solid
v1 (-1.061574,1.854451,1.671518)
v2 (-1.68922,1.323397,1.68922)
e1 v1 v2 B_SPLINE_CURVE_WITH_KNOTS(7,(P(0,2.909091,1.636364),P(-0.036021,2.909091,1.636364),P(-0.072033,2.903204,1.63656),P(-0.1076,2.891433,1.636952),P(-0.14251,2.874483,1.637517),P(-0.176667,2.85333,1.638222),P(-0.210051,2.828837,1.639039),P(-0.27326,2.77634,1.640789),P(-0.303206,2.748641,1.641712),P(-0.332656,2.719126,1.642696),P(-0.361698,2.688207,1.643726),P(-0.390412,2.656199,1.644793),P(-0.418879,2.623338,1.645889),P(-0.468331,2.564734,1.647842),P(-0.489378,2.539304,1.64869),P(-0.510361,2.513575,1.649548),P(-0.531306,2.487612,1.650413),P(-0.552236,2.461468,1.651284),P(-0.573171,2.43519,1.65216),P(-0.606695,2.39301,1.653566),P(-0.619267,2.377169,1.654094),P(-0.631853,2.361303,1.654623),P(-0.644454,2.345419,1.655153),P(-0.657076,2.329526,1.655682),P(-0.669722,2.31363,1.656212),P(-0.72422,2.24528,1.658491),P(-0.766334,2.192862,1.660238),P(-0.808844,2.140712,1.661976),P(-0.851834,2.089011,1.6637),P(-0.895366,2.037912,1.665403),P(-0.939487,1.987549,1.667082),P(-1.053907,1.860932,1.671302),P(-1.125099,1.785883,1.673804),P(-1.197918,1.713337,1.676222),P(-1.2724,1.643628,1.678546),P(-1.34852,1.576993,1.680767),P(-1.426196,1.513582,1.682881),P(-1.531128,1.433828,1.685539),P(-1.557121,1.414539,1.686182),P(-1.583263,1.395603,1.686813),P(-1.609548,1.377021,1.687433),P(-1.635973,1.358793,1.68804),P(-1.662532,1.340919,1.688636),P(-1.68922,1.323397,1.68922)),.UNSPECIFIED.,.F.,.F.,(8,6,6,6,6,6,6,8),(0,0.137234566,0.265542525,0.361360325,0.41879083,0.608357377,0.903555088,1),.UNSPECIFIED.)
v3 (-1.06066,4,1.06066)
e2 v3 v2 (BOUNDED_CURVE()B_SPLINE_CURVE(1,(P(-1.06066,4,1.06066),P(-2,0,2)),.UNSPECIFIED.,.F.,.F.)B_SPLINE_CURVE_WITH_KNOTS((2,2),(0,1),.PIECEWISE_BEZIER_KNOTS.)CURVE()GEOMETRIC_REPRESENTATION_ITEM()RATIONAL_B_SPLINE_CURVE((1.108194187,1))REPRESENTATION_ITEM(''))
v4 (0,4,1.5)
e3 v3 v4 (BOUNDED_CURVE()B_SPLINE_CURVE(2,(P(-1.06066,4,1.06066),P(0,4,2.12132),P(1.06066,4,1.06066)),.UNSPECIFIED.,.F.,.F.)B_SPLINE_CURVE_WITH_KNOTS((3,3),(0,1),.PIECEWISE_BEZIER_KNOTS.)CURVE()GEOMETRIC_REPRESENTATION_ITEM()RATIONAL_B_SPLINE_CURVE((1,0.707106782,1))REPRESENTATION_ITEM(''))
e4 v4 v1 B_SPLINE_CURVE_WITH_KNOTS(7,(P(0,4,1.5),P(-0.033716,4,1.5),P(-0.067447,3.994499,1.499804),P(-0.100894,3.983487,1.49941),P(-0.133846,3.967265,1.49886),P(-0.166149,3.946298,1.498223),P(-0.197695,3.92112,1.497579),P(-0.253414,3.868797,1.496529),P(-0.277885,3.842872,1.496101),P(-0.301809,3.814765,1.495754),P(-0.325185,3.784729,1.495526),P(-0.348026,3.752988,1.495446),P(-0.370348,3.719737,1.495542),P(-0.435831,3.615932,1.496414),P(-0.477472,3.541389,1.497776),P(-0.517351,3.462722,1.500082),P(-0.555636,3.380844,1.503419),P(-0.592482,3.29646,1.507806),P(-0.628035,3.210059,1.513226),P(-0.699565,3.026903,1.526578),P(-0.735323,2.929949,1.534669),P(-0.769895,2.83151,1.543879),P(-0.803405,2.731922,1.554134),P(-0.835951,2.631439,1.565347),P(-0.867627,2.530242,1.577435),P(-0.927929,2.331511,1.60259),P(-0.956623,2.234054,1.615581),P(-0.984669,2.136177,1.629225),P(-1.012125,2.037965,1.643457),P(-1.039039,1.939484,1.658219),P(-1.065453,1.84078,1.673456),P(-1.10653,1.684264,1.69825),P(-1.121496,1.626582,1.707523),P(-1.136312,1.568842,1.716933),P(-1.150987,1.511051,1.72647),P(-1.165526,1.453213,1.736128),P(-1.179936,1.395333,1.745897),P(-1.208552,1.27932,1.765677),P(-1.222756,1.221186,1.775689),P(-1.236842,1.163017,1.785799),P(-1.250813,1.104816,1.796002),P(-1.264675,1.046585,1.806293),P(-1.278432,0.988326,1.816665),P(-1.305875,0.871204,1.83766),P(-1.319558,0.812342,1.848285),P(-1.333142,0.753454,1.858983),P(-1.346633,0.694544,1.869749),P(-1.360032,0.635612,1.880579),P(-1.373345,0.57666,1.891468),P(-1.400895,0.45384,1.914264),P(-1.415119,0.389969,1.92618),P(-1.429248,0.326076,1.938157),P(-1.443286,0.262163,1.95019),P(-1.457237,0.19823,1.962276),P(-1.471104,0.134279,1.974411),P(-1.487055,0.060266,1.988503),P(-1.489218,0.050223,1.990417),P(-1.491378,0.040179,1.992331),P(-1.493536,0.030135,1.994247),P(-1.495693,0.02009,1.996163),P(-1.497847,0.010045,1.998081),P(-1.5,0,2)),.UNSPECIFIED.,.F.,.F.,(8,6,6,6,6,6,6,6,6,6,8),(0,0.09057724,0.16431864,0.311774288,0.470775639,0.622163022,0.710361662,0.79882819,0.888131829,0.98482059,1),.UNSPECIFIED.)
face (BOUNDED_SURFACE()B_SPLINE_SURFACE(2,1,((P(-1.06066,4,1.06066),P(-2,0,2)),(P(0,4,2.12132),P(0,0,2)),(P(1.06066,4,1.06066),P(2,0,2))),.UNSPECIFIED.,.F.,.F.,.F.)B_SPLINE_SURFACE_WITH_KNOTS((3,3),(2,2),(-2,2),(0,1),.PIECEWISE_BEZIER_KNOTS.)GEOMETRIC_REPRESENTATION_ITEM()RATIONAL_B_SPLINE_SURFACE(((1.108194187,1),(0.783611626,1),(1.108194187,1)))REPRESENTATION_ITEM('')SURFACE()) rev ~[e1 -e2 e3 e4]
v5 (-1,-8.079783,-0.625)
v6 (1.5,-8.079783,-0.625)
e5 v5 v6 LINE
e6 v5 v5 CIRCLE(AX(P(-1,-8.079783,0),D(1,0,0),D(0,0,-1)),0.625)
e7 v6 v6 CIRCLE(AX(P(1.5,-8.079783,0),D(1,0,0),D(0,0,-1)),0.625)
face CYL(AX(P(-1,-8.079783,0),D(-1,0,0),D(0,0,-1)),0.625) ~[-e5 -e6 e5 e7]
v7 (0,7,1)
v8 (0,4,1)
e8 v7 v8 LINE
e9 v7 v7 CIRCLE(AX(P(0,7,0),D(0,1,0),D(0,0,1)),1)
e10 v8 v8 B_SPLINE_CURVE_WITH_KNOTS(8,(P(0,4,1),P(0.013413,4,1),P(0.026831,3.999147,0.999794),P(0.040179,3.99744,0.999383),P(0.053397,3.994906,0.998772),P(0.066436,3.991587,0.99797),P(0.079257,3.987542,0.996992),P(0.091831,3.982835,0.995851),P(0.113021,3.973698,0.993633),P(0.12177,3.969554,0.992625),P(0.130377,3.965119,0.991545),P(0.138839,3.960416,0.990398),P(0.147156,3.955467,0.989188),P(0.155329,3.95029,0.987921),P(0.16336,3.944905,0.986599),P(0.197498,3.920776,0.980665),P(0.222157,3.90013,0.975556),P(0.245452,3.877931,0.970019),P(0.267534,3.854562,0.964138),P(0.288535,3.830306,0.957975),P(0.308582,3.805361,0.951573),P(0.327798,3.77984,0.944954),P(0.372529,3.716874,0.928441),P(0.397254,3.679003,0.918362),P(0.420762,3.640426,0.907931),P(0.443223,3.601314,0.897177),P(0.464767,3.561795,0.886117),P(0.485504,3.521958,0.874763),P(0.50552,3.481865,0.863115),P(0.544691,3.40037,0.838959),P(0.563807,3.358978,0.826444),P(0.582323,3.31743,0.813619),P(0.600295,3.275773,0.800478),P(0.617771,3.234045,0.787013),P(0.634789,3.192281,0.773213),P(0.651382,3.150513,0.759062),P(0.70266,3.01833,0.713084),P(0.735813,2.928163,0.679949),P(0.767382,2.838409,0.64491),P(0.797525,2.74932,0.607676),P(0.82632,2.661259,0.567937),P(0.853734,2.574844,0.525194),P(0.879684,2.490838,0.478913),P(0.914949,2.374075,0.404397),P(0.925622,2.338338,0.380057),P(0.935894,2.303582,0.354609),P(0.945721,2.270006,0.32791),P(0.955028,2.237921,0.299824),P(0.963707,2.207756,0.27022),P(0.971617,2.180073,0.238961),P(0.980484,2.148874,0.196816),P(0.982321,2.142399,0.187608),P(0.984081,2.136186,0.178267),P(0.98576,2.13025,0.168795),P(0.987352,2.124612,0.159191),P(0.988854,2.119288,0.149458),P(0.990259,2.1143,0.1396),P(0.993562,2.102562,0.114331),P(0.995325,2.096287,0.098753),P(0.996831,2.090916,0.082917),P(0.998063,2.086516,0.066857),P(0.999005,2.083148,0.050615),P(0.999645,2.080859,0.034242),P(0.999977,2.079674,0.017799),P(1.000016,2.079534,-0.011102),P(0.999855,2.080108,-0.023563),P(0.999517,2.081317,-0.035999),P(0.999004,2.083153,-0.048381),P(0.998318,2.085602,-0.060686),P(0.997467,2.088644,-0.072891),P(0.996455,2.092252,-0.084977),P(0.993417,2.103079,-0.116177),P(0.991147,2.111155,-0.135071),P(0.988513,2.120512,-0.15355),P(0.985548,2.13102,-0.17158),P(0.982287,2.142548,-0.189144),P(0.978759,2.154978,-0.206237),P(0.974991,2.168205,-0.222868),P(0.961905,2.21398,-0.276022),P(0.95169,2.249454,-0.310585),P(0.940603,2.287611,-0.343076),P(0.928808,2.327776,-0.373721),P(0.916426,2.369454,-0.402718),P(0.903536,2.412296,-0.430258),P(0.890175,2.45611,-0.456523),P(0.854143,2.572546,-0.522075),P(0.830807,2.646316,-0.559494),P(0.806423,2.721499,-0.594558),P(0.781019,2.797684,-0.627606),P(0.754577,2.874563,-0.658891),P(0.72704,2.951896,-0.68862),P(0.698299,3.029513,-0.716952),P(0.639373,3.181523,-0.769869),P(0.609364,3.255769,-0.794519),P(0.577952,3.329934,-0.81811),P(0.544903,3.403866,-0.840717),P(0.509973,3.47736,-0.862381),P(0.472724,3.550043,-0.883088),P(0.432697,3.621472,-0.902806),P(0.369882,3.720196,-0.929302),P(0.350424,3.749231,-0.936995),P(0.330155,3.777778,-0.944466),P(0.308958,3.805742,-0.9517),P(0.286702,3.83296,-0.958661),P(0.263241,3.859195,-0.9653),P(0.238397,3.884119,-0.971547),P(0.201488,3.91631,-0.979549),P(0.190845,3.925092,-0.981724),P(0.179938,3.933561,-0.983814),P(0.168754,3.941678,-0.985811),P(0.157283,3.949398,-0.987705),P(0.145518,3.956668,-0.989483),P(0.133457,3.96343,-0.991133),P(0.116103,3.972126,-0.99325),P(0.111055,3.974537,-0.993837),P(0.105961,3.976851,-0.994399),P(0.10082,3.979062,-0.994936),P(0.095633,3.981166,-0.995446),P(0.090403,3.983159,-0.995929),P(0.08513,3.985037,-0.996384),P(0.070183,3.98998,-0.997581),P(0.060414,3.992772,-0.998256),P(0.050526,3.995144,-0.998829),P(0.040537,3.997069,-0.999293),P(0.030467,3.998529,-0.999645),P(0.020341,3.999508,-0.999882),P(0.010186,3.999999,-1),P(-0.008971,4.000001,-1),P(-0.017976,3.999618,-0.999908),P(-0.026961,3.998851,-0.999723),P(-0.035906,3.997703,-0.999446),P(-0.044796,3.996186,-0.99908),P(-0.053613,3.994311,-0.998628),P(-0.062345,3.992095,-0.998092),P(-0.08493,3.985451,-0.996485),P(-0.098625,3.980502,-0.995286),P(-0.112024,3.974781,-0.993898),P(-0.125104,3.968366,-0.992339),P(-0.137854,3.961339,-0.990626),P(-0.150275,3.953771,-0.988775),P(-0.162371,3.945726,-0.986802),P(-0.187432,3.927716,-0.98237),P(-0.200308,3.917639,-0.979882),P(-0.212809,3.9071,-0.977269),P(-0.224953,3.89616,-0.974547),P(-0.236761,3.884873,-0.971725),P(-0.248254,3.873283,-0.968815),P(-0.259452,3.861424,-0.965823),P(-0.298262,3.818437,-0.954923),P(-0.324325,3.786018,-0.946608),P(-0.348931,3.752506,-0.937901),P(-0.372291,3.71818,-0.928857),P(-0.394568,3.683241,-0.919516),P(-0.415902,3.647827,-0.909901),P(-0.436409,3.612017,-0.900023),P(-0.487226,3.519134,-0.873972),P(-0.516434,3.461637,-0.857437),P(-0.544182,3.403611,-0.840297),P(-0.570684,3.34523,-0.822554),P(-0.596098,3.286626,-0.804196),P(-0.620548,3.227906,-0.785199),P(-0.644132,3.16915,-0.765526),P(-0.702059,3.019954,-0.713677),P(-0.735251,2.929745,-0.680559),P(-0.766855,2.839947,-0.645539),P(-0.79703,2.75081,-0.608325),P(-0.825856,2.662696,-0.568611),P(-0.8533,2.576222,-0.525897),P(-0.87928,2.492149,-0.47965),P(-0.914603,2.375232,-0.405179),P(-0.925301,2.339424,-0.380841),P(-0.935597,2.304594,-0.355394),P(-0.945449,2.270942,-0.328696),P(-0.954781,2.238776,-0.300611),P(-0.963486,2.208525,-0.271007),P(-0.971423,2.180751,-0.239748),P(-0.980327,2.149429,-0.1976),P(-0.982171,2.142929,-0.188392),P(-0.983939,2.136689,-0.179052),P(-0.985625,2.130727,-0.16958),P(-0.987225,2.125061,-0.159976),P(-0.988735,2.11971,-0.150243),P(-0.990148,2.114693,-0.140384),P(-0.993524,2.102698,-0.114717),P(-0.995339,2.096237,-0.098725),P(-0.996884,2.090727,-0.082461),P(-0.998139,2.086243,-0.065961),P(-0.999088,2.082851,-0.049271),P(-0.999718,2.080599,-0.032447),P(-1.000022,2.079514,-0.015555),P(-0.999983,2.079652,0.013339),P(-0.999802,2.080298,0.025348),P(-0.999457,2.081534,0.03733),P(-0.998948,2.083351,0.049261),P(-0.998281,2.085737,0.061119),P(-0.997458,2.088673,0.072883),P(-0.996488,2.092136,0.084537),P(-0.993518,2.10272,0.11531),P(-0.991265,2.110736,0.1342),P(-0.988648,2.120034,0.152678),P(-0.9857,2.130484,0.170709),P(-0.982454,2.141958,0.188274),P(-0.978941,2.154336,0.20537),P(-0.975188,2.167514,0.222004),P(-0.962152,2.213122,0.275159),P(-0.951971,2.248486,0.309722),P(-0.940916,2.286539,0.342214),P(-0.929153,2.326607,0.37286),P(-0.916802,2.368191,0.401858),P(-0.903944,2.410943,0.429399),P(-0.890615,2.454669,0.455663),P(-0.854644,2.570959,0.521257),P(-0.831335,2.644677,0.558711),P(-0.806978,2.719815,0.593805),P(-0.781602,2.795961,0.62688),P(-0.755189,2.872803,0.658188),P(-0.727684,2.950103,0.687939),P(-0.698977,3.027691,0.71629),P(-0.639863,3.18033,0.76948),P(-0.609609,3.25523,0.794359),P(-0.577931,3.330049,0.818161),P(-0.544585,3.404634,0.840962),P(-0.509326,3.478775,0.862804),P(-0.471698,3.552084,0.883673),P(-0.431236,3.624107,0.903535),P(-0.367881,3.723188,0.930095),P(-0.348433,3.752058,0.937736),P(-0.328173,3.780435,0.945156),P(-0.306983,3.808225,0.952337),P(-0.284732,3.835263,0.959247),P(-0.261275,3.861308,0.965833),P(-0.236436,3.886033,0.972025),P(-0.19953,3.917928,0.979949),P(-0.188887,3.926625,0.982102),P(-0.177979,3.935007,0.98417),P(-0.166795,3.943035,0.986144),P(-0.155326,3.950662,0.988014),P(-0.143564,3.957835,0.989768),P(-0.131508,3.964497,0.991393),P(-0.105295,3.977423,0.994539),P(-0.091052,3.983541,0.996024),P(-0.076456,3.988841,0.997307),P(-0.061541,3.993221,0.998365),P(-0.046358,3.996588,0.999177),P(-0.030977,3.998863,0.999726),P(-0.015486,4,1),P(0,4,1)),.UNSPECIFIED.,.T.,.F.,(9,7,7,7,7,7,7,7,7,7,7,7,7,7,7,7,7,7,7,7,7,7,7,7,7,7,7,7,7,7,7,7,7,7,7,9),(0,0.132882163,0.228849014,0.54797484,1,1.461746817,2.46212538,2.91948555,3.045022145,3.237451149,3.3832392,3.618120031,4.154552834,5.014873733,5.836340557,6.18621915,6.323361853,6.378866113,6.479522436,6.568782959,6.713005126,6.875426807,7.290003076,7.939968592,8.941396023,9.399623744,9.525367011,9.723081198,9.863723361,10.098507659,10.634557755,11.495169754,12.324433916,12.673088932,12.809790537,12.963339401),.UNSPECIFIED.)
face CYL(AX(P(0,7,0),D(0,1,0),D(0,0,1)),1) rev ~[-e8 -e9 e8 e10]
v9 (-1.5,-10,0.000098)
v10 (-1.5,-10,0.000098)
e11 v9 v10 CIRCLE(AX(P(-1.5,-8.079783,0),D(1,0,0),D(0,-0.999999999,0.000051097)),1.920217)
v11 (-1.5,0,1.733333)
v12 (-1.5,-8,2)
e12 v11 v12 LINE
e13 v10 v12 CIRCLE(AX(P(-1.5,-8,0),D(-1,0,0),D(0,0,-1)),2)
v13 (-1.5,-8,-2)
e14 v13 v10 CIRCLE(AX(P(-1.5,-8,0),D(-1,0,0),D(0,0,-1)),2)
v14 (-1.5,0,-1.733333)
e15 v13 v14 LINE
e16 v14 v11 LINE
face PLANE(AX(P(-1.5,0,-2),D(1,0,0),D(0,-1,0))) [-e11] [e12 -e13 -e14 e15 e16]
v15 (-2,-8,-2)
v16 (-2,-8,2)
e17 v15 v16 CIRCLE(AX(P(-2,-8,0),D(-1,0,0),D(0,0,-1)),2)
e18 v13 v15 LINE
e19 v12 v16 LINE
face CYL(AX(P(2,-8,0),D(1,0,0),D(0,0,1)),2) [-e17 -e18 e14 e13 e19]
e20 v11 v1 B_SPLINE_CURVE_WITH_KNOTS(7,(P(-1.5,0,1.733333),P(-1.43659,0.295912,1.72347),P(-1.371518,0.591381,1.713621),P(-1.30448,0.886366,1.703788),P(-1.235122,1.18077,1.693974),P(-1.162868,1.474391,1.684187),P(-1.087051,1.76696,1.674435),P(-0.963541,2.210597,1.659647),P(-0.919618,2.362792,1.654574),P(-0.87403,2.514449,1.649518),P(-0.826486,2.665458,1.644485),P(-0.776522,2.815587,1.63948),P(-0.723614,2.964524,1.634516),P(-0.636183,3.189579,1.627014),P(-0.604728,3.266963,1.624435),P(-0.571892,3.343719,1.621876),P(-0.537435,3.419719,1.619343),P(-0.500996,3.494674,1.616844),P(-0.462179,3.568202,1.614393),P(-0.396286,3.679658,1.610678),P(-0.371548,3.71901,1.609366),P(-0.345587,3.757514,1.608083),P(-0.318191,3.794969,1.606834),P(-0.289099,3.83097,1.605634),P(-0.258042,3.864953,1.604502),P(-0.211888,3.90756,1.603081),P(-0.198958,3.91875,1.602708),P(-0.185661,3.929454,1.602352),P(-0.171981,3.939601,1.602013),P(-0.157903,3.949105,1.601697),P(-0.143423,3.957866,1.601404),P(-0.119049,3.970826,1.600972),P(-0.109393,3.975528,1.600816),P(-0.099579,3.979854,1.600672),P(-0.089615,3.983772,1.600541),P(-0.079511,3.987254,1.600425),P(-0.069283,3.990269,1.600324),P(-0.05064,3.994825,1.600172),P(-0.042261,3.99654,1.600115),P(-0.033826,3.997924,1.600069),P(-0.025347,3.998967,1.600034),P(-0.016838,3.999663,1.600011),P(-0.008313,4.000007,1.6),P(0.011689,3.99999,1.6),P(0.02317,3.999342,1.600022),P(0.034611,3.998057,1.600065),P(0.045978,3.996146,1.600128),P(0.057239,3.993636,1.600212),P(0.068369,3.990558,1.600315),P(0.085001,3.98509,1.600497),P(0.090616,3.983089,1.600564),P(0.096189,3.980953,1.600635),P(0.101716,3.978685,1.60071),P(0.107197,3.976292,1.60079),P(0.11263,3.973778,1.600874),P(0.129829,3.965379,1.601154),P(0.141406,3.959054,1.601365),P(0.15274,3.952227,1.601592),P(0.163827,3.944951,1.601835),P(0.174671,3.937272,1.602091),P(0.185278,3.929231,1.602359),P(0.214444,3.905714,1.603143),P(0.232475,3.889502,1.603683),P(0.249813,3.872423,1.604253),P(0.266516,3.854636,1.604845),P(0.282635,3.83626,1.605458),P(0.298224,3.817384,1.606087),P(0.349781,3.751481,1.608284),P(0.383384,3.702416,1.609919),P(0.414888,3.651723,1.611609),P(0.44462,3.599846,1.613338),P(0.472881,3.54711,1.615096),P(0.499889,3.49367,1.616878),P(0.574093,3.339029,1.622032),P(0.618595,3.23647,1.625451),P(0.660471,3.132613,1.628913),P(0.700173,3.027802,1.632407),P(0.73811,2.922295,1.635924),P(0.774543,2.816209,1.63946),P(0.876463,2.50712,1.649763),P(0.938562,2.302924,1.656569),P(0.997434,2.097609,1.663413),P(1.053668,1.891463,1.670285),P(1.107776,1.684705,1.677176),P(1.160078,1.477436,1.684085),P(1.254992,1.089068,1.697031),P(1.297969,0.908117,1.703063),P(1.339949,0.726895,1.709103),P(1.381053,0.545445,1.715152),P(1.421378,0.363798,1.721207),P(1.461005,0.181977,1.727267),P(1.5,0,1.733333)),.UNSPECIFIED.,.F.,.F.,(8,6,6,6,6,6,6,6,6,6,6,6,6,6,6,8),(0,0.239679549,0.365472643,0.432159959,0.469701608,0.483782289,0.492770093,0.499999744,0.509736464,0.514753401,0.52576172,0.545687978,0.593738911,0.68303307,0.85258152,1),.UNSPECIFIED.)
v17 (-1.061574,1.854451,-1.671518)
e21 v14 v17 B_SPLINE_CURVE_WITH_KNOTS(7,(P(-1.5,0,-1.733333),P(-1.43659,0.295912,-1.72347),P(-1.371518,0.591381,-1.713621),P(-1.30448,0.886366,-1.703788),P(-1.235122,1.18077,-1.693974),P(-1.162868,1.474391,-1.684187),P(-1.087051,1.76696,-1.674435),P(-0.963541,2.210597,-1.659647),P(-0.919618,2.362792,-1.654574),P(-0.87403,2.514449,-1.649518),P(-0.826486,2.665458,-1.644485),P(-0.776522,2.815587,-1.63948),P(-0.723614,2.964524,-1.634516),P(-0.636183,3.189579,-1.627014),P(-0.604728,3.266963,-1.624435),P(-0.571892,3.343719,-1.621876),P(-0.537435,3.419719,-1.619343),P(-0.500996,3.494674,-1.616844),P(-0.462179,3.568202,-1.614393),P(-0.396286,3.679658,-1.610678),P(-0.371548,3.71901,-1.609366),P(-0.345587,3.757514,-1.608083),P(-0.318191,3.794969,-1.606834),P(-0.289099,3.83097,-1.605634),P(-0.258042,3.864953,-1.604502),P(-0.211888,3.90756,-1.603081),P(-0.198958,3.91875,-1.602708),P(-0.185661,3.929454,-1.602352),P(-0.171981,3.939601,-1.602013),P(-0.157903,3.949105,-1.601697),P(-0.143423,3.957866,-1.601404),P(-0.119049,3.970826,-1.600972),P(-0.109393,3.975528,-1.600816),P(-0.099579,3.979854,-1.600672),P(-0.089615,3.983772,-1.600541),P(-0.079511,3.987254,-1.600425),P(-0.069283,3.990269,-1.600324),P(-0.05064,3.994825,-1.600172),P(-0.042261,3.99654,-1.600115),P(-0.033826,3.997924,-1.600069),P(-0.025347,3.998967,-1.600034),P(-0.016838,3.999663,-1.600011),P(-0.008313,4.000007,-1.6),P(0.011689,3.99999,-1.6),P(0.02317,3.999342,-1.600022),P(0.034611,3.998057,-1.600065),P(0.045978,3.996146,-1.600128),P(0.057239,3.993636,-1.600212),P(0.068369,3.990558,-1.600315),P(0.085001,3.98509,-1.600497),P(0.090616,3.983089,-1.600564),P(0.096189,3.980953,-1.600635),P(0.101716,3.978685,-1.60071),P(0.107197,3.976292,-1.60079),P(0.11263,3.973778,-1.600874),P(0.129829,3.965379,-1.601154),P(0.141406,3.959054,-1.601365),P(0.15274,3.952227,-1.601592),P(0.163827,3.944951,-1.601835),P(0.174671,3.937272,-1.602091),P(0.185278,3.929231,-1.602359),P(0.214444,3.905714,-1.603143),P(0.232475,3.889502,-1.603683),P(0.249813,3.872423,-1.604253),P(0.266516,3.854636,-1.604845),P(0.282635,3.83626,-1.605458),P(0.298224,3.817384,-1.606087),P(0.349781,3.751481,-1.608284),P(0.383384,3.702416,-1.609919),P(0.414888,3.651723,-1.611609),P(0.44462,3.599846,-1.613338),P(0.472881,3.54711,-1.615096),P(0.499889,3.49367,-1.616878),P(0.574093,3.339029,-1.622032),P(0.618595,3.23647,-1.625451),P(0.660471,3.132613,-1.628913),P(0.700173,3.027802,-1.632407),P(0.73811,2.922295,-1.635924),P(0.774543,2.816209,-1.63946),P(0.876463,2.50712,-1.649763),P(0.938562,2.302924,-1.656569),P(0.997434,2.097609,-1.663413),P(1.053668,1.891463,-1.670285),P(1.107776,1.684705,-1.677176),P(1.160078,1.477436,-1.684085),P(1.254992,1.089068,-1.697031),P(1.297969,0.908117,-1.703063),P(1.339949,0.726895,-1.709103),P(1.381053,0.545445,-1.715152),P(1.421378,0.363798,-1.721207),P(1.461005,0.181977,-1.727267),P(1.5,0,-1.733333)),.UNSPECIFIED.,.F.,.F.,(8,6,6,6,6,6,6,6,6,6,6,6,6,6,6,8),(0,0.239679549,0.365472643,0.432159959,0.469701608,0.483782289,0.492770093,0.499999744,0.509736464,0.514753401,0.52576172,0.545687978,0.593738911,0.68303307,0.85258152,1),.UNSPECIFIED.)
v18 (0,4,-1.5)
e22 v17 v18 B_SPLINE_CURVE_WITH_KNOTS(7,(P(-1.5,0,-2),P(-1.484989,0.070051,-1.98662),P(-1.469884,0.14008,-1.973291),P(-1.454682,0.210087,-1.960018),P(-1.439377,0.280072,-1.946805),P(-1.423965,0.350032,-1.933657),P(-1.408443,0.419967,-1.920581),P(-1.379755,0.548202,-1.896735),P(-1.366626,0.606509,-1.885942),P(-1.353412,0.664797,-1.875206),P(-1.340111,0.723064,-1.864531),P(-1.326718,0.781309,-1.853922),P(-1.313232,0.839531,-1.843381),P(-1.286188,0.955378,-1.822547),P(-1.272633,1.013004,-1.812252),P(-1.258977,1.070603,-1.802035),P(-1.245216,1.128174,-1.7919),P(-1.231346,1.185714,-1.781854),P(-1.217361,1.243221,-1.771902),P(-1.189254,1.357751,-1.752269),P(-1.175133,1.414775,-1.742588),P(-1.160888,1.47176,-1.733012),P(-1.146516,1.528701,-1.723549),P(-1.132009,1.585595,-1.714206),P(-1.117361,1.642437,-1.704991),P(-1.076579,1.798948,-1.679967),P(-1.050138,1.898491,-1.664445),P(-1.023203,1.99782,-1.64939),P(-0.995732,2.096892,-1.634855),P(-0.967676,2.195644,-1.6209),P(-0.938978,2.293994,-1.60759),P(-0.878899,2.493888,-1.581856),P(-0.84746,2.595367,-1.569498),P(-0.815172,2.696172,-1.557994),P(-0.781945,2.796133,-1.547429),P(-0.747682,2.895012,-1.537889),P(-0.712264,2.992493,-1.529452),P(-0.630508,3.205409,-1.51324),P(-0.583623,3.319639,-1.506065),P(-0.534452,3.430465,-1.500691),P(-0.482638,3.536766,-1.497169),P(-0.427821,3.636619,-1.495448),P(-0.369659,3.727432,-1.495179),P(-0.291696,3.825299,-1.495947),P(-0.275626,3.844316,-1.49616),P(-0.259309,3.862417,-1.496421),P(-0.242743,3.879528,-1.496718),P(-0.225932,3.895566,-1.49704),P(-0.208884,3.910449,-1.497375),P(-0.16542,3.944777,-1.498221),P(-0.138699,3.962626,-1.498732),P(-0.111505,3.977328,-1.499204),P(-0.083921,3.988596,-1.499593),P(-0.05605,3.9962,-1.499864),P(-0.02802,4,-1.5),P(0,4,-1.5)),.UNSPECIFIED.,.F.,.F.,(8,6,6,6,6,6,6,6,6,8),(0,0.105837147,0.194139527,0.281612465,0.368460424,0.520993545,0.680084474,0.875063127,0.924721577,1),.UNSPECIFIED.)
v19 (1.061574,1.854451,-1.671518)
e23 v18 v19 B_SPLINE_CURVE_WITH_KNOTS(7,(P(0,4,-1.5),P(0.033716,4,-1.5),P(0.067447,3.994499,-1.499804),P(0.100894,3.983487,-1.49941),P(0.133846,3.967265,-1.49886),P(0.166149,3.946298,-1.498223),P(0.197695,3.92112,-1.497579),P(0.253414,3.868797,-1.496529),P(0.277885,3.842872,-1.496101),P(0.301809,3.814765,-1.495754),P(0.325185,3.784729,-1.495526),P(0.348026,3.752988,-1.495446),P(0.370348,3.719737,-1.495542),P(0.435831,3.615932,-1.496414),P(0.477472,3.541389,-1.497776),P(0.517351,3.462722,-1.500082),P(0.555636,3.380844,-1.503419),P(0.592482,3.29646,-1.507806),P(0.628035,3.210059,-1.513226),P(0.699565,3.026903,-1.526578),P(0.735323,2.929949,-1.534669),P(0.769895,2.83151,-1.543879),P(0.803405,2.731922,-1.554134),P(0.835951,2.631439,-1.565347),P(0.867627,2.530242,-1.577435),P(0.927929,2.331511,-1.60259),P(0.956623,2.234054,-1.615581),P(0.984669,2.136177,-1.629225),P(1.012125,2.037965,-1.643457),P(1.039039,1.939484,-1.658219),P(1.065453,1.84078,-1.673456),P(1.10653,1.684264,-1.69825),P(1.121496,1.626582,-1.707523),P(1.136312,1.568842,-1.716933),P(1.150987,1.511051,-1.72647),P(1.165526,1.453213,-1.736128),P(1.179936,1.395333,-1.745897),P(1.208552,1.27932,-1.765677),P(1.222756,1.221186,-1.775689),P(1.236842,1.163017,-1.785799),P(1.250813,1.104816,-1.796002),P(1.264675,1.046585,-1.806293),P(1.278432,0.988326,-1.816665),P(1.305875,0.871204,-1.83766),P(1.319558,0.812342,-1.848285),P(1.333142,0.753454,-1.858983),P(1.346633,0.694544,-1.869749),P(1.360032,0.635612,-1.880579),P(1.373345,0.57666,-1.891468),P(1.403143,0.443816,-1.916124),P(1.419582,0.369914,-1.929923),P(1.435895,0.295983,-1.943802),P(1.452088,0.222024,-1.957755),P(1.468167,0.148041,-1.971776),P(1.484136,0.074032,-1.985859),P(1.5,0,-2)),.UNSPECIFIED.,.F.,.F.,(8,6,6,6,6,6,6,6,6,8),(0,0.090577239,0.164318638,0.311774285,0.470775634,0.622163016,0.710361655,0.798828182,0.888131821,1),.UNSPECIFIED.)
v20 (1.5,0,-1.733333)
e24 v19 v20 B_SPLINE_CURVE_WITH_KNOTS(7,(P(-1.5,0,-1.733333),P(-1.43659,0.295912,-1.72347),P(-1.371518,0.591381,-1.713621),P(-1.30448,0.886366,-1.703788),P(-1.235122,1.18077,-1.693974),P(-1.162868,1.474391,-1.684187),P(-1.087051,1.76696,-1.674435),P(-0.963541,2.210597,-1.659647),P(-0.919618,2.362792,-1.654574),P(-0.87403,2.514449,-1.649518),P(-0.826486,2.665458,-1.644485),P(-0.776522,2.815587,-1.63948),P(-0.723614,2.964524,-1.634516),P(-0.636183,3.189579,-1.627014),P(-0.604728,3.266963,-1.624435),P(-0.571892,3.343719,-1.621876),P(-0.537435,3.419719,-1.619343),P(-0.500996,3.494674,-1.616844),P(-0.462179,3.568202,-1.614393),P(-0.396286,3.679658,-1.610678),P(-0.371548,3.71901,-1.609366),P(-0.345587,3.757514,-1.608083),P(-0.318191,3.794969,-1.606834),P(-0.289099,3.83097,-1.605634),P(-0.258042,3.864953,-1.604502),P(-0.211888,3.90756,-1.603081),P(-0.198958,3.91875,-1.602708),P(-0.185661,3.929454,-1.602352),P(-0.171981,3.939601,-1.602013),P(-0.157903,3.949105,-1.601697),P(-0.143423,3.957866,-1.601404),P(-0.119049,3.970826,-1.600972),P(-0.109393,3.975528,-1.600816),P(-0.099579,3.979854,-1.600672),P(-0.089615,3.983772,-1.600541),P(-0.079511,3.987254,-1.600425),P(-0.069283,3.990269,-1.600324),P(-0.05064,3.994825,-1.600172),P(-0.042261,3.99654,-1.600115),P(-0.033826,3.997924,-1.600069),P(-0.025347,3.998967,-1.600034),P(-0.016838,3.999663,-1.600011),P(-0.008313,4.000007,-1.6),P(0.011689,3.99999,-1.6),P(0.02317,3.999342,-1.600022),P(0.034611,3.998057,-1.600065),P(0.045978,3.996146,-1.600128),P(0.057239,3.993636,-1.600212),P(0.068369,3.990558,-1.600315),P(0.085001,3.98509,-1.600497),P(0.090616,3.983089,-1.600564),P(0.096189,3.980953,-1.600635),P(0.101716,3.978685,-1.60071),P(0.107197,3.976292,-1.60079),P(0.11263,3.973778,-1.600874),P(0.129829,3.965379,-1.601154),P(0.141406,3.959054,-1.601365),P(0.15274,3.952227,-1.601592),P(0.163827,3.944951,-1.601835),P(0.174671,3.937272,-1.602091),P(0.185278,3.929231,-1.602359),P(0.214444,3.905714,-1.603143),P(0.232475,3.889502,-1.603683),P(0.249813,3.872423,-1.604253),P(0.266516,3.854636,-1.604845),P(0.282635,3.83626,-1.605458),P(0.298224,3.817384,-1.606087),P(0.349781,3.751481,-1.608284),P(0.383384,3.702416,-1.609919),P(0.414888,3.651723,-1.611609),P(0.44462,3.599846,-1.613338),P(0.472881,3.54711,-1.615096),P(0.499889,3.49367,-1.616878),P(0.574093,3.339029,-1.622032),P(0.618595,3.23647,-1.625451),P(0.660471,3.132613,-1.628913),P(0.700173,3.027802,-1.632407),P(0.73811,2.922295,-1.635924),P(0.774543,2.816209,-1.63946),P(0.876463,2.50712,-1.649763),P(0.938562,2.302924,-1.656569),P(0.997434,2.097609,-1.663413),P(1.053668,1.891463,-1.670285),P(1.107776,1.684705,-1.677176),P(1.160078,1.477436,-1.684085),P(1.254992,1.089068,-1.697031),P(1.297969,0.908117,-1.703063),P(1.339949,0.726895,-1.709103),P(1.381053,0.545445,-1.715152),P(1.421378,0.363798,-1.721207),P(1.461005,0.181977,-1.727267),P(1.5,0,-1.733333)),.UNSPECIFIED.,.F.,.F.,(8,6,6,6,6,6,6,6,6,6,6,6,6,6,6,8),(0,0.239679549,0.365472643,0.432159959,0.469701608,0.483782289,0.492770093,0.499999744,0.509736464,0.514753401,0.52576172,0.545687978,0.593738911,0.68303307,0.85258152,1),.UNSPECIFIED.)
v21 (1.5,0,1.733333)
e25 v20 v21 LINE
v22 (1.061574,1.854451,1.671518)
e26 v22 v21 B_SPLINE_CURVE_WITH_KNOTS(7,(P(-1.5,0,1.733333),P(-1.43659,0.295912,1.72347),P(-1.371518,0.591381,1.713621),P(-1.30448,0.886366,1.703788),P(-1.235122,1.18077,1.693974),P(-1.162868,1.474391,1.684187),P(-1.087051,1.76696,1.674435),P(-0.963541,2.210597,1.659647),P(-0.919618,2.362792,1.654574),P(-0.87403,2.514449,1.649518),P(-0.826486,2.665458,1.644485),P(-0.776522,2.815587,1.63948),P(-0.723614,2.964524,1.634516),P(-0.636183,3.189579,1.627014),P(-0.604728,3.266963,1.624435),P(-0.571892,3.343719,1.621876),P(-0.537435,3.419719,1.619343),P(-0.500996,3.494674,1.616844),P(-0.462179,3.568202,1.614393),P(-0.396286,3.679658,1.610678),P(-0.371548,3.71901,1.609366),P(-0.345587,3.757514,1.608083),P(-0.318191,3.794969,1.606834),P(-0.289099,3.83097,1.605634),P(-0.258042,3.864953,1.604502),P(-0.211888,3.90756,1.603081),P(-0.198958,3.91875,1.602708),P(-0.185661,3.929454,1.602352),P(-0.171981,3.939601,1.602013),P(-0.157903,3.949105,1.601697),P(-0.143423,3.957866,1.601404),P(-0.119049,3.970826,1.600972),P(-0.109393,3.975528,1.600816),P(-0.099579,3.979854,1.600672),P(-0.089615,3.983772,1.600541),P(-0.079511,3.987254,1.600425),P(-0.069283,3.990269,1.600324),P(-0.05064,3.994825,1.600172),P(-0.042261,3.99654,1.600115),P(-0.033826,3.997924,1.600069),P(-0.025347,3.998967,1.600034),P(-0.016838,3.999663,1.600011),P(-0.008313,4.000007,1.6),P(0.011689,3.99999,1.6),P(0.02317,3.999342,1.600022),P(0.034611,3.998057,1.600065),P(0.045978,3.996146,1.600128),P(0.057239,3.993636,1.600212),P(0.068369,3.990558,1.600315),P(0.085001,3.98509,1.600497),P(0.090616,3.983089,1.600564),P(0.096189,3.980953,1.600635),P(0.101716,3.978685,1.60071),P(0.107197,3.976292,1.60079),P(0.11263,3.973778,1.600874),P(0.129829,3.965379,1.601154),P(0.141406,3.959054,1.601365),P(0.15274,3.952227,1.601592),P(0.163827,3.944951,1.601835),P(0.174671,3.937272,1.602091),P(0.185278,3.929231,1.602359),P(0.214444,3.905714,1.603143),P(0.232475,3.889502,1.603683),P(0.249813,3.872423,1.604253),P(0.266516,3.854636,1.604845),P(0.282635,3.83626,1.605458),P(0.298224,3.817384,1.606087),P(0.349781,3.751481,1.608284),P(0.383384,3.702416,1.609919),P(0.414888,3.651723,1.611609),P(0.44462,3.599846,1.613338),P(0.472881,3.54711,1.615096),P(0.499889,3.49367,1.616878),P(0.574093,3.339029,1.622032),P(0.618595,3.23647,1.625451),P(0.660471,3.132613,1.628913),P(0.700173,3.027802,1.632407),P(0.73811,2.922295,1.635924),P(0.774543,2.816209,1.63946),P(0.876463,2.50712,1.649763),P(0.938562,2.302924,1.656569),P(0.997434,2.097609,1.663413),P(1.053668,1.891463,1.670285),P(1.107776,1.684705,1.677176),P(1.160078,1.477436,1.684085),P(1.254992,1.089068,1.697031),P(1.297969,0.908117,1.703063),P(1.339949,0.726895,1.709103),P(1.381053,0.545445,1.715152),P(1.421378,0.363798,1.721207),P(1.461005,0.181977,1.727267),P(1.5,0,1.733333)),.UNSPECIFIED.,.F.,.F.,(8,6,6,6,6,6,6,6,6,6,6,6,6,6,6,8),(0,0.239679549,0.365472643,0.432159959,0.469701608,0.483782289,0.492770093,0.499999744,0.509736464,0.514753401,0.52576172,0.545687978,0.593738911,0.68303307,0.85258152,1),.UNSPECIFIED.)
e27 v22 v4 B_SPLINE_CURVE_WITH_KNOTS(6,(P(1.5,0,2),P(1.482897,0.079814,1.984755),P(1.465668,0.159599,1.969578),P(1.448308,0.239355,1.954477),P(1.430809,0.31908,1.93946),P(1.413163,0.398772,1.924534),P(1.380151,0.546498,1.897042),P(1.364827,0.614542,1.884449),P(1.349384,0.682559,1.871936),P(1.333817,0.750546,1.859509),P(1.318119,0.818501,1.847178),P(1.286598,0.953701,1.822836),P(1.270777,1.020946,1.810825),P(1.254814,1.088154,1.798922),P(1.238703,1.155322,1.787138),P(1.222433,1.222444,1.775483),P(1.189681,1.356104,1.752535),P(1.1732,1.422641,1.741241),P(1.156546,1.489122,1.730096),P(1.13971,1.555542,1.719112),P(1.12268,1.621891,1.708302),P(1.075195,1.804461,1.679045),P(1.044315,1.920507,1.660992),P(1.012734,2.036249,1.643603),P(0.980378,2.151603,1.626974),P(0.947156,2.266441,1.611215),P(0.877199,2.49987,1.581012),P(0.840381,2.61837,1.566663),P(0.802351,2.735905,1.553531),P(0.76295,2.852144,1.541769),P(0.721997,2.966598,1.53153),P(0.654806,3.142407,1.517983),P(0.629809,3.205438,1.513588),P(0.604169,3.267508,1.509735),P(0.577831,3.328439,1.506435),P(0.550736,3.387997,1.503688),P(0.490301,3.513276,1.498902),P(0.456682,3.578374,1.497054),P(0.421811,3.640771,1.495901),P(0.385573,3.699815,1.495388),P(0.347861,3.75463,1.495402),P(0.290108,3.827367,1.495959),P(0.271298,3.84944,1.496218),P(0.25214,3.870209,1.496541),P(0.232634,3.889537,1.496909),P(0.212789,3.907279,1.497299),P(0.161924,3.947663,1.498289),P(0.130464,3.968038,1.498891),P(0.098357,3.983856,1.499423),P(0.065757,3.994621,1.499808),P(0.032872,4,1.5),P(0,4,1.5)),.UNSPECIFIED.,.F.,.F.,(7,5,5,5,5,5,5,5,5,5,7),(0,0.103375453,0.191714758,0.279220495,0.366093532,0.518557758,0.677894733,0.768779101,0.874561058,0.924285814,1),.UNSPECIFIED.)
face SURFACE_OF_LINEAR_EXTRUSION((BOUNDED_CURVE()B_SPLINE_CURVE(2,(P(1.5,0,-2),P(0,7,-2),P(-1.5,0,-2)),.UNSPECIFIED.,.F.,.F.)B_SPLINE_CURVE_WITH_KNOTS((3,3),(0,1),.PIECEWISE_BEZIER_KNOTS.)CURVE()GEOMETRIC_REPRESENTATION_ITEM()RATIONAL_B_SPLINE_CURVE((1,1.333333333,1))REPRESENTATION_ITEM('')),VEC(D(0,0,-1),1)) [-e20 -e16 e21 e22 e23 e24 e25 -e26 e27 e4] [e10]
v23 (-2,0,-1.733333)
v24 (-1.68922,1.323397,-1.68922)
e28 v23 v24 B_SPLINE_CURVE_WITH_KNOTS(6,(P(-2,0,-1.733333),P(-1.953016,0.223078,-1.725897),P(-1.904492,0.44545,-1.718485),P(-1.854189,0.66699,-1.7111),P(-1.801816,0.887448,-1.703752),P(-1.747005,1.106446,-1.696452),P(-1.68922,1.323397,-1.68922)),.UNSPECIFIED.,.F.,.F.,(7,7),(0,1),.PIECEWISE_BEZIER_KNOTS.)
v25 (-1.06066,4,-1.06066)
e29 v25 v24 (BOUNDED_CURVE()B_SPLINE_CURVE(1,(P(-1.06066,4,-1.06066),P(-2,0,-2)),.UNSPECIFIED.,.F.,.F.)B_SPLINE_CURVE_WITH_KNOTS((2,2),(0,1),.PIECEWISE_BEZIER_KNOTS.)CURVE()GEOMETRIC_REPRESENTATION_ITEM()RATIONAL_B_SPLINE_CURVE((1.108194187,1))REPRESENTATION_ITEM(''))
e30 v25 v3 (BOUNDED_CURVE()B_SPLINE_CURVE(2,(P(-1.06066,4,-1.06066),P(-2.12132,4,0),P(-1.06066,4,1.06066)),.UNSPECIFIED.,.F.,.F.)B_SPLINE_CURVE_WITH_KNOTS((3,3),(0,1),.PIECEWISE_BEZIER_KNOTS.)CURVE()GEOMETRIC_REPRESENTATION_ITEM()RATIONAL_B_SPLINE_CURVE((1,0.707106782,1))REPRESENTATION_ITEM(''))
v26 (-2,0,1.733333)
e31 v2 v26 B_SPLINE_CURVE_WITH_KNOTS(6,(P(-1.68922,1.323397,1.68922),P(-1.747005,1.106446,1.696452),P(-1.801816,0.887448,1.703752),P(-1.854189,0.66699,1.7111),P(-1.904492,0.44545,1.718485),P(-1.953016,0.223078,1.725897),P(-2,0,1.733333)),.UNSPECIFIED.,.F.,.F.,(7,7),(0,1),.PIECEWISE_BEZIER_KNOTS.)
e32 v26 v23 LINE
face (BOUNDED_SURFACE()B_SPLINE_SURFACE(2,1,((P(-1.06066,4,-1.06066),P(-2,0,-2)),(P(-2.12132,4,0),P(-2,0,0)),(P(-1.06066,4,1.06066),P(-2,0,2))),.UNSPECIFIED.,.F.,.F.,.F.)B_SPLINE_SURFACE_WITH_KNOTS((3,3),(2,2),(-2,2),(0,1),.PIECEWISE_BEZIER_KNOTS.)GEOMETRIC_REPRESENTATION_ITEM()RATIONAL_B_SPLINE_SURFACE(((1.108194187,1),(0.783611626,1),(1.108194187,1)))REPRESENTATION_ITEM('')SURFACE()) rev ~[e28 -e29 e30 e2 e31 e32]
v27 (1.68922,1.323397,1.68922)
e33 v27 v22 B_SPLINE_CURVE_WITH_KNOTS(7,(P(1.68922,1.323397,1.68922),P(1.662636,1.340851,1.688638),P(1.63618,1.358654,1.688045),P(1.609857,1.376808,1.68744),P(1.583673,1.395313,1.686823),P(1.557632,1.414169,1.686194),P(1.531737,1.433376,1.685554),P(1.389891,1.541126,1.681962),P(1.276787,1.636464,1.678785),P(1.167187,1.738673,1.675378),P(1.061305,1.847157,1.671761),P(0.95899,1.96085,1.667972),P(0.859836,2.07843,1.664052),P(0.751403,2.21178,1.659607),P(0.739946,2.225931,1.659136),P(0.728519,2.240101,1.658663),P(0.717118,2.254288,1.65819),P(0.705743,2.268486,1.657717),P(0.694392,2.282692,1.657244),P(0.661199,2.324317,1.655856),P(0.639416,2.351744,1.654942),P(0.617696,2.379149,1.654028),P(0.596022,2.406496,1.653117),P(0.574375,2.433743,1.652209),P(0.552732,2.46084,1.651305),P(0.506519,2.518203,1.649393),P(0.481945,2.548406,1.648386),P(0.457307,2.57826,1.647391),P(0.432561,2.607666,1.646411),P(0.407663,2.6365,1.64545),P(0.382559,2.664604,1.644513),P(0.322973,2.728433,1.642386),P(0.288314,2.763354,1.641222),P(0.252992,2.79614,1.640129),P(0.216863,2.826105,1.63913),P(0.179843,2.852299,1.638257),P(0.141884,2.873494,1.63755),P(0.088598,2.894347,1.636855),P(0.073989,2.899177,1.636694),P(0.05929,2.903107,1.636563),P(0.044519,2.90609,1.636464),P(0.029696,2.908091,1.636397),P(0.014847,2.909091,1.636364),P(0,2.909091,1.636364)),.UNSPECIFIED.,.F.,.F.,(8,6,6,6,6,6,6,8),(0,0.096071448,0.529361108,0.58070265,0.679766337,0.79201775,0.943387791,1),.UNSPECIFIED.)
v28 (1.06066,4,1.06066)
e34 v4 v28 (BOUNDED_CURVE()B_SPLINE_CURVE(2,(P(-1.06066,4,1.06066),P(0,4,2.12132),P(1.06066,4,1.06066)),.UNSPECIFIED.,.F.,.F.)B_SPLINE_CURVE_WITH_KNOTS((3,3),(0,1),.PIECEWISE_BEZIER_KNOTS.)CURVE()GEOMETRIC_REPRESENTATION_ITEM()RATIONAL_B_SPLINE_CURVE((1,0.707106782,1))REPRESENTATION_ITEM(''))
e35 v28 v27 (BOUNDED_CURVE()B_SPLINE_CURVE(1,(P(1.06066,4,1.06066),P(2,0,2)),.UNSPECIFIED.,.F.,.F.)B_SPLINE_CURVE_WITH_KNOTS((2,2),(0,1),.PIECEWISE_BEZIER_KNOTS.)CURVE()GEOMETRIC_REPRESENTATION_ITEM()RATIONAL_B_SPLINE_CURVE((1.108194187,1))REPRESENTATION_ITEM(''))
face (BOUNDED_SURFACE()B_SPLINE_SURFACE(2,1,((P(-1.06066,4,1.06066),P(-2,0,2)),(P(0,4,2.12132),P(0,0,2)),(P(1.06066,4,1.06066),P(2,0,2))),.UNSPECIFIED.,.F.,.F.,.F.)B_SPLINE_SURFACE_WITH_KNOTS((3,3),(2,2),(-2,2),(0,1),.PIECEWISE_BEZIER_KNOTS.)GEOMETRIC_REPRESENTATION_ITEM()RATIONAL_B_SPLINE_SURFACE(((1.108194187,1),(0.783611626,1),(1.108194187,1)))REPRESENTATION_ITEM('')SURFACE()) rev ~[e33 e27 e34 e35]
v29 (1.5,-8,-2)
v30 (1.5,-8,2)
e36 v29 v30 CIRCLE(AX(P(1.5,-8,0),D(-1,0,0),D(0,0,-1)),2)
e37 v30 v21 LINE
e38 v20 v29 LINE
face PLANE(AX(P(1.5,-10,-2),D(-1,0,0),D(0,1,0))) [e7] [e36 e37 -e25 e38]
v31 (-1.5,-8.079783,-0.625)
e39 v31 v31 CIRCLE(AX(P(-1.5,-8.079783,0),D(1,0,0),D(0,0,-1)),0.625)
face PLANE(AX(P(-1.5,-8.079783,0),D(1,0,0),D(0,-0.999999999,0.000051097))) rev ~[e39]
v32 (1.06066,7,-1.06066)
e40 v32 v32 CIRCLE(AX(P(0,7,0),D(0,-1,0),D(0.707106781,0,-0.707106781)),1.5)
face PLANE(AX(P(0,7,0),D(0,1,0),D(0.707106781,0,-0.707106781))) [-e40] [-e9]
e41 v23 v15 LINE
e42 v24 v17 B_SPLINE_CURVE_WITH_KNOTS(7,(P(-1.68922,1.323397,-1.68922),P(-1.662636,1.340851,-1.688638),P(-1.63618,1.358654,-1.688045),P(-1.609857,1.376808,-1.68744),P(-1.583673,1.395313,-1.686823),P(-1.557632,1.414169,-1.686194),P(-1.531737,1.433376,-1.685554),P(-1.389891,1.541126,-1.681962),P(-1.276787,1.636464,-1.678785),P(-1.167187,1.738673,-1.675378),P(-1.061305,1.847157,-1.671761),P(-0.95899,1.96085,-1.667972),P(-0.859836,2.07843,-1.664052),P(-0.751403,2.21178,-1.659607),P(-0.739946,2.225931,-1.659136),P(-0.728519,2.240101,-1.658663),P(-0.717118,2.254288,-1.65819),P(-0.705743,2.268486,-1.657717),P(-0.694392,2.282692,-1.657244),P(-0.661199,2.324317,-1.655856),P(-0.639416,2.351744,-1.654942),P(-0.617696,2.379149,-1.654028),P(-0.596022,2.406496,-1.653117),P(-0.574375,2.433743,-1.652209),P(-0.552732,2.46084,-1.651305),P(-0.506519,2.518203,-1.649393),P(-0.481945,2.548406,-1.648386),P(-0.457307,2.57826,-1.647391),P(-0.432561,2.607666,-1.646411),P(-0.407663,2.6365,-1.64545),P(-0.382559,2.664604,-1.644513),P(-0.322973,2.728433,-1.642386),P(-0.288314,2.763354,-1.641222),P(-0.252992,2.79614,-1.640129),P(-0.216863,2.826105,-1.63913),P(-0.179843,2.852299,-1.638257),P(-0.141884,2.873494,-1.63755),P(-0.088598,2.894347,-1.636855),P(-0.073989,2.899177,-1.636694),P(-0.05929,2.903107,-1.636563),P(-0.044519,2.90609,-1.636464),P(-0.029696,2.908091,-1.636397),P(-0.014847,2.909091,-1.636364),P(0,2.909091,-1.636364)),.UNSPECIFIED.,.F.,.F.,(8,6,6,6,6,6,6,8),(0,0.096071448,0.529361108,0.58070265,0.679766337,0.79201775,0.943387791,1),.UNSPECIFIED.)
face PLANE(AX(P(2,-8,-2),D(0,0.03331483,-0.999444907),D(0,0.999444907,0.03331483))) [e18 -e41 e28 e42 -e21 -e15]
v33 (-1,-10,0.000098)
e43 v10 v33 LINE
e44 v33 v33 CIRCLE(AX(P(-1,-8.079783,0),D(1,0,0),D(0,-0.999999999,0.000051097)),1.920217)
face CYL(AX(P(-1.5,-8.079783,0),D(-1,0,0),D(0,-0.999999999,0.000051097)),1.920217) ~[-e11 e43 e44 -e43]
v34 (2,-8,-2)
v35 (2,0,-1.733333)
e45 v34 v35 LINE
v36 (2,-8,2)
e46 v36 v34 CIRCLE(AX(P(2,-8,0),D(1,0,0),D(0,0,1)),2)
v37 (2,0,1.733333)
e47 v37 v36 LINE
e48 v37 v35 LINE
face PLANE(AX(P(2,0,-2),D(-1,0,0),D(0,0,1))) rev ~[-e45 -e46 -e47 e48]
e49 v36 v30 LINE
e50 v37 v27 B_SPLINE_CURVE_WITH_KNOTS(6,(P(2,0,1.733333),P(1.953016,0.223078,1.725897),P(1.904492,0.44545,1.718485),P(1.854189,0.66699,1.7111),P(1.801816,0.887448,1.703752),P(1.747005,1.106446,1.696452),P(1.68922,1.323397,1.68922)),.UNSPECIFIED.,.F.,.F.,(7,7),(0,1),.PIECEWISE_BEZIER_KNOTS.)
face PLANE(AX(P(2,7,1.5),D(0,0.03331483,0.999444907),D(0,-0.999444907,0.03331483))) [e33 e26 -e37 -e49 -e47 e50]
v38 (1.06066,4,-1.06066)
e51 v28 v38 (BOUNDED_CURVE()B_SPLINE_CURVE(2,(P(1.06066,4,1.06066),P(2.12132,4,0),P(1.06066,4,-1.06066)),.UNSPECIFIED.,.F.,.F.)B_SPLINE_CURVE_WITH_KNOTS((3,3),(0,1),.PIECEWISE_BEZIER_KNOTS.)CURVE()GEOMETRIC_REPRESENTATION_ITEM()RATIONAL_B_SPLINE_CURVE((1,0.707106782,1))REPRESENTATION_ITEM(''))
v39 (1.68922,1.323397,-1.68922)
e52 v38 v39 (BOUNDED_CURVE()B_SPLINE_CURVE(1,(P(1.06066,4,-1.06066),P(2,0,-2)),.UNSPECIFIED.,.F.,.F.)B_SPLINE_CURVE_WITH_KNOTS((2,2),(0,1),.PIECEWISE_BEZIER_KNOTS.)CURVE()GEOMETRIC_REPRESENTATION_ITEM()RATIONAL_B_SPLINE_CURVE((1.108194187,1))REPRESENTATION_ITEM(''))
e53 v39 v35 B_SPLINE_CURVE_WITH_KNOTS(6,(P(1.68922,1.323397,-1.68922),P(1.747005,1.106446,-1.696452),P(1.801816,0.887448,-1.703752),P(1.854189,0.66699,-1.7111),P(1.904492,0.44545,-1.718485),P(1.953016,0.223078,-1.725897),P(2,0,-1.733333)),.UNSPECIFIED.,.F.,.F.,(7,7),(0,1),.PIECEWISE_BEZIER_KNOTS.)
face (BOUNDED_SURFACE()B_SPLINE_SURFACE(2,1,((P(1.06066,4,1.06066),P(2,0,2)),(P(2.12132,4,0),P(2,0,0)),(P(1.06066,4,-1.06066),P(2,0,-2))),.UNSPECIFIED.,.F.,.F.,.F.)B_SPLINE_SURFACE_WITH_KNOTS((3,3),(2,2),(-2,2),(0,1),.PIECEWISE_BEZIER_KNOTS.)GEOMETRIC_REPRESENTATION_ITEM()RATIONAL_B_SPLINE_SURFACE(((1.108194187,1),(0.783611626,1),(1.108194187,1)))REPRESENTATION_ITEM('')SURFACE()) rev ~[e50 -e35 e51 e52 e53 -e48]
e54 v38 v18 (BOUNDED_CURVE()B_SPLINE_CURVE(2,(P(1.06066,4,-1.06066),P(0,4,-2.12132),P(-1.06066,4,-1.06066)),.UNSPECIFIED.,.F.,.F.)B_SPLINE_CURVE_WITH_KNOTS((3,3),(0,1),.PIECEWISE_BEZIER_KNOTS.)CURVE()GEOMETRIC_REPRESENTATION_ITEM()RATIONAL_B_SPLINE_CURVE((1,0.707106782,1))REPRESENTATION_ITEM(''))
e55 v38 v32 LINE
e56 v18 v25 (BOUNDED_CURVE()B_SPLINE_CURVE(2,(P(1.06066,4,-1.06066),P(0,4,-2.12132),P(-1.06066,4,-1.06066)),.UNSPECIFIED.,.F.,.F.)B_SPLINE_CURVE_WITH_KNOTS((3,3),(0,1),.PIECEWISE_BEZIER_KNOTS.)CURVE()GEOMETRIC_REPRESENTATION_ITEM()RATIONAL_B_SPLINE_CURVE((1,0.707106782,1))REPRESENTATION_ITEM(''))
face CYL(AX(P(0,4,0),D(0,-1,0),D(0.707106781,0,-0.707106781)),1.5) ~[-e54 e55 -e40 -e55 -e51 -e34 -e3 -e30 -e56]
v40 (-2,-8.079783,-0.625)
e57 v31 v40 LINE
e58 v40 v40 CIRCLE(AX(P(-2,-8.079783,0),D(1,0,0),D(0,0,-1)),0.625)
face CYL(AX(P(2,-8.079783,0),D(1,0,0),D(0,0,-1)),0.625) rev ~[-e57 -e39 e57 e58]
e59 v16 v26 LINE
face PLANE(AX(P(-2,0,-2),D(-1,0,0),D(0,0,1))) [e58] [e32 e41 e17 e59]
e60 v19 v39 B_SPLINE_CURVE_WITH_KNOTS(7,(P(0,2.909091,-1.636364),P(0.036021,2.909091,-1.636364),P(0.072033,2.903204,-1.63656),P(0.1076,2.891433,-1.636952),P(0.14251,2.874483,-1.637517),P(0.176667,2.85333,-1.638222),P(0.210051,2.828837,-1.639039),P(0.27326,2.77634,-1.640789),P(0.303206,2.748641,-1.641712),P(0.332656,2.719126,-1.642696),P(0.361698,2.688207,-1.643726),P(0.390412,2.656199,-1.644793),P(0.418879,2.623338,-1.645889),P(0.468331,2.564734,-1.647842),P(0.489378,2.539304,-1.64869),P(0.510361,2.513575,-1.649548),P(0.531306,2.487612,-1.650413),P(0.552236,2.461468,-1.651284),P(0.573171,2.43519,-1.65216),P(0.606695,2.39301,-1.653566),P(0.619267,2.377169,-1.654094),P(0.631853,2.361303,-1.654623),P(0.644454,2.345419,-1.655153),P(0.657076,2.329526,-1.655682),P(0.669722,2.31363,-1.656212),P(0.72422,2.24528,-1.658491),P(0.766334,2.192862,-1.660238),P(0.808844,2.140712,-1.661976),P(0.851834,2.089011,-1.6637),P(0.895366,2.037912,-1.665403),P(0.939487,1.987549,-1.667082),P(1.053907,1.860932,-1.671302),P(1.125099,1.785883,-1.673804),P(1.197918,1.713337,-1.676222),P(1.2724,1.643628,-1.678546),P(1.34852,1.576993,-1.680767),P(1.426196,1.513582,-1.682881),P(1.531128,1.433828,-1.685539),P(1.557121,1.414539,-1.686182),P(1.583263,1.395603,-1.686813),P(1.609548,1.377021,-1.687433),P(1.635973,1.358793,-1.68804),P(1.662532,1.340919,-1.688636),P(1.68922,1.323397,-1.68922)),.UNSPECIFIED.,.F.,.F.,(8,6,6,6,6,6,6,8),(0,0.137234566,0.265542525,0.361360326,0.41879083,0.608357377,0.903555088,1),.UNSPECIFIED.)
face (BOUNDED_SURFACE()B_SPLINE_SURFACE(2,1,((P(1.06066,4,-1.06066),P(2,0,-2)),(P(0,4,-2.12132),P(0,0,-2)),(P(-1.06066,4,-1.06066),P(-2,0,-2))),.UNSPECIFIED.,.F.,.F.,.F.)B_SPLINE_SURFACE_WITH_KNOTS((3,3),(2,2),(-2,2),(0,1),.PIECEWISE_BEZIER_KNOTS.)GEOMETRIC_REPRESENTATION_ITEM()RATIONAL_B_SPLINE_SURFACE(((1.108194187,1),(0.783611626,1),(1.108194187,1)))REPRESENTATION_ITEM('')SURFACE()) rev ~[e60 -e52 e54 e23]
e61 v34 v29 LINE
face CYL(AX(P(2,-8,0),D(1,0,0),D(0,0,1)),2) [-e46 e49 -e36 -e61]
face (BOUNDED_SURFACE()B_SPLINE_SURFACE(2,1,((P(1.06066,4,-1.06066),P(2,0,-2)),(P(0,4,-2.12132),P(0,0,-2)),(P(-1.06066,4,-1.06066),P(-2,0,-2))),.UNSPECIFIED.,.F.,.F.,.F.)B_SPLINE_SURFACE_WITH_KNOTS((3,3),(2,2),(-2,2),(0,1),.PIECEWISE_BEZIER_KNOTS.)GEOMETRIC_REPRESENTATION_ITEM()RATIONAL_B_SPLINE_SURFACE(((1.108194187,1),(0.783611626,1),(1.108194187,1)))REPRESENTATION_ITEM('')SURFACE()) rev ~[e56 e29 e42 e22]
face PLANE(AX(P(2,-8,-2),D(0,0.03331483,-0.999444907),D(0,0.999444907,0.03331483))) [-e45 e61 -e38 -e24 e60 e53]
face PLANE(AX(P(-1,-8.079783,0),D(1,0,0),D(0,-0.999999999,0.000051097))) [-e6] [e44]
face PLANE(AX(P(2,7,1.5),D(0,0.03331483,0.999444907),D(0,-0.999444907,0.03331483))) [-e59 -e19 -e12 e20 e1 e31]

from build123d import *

# Parameters (mm, degrees)
SKETCH6_W               = 4
SKETCH6_H               = 4
SKETCH8_R               = 1.5
BOSS_EXTRUDE4_DEPTH     = 3
SKETCH9_W               = 4
SKETCH9_H               = 4
BOSS_EXTRUDE5_DEPTH     = 10
CUT_EXTRUDE1_DEPTH      = 11.954451205
CUT_EXTRUDE1_DEPTH_BACK = 11.954451205
CUT_EXTRUDE_THIN1_DEPTH = 10
SKETCH12_R              = 0.625
CUT_EXTRUDE2_DEPTH      = 11.954451205
CUT_EXTRUDE2_DEPTH_BACK = 11.954451205
SKETCH13_R              = 1
CUT_EXTRUDE3_DEPTH      = 18.233687963
CUT_EXTRUDE3_DEPTH_BACK = 18.233687963
SKETCH14_R              = 1.920216589
BOSS_EXTRUDE6_DEPTH     = 0.5
SKETCH15_R              = 0.625
BOSS_EXTRUDE7_DEPTH     = 3


with BuildPart() as part:
    # Sketch7 for Loft1 → Loft1 section 0
    with BuildSketch(Plane(origin=(0, 4, 0), x_dir=(1, 0, 0), z_dir=(0, 1, 0))):
        with BuildLine():
            # circular arc as an exact rational Bezier (weights 1, cos(half-angle), 1)
            Bezier((-1.060660172, -1.060660172), (0, -2.121320343), (1.060660172, -1.060660172), weights=[1, 0.707106782, 1])
            Bezier((1.060660172, -1.060660172), (2.121320343, 0), (1.060660172, 1.060660172), weights=[1, 0.707106782, 1])
            Bezier((1.060660172, 1.060660172), (0, 2.121320343), (-1.060660172, 1.060660172), weights=[1, 0.707106782, 1])
            Bezier((-1.060660172, 1.060660172), (-2.121320343, 0), (-1.060660172, -1.060660172), weights=[1, 0.707106782, 1])
        make_face()
    # Sketch6 → Loft1 section 1
    with BuildSketch(Plane(origin=(0, 0, 0), x_dir=(1, 0, 0), z_dir=(0, 1, 0))):
        Rectangle(SKETCH6_W, SKETCH6_H)
    loft()

    # Sketch8 → Boss-Extrude4 (add)
    with BuildSketch(Plane(origin=(0, 4, 0), x_dir=(1, 0, 0), z_dir=(0, 1, 0))):
        with Locations(Location((0, 0, 0), (0, 0, 45))):
            Circle(SKETCH8_R)
    extrude(amount=BOSS_EXTRUDE4_DEPTH)

    # Sketch9 → Boss-Extrude5 (add)
    with BuildSketch(Plane.XZ):
        Rectangle(SKETCH9_W, SKETCH9_H)
    extrude(amount=BOSS_EXTRUDE5_DEPTH)

    # Sketch10 → Cut-Extrude1 (cut, two sides)
    with BuildSketch(Plane(origin=(0, 0, -2), x_dir=(-1, 0, 0), z_dir=(0, 0, -1))) as cut_extrude1_sk:
        with BuildLine():
            Line((-1.5, -10), (-1.5, 0))
            add(Edge.make_bspline(
                [(-1.5, 0), (0, 7), (1.5, 0)],
                knots=[0, 0, 0, 1, 1, 1], degree=2, weights=[1, 1.333333333, 1]))
            Line((1.5, 0), (1.5, -10))
            Line((1.5, -10), (-1.5, -10))
        make_face()
    extrude(amount=CUT_EXTRUDE1_DEPTH, mode=Mode.SUBTRACT)
    extrude(cut_extrude1_sk.sketch, amount=-CUT_EXTRUDE1_DEPTH_BACK, mode=Mode.SUBTRACT)

    # Sketch11 → Cut-Extrude-Thin1 (cut)
    with BuildSketch(Plane(origin=(2, 0, 0), x_dir=(0, 0, -1), z_dir=(1, 0, 0))):
        with BuildLine():
            Line((11.997667212, -7.763395965), (11.17222068, 17))
            Line((11.17222068, 17), (-11.17222068, 17))
            Line((-11.17222068, 17), (-11.997667212, -7.763395965))
            ThreePointArc((-11.997667212, -7.763395965), (0, -20), (11.997667212, -7.763395965))
        make_face()
        with BuildLine():
            Line((2, -8), (1.5, 7))
            Line((1.5, 7), (-1.5, 7))
            Line((-1.5, 7), (-2, -8))
            ThreePointArc((-2, -8), (0, -10), (2, -8))
        make_face(mode=Mode.SUBTRACT)
    extrude(amount=-CUT_EXTRUDE_THIN1_DEPTH, mode=Mode.SUBTRACT)

    # Sketch12 → Cut-Extrude2 (cut, two sides)
    with BuildSketch(Plane(origin=(2, 0, 0), x_dir=(0, 0, -1), z_dir=(1, 0, 0))) as cut_extrude2_sk:
        with Locations((0, -8.079783411)):
            Circle(SKETCH12_R)
    extrude(amount=CUT_EXTRUDE2_DEPTH, mode=Mode.SUBTRACT)
    extrude(cut_extrude2_sk.sketch, amount=-CUT_EXTRUDE2_DEPTH_BACK, mode=Mode.SUBTRACT)

    # Sketch13 → Cut-Extrude3 (cut, two sides)
    with BuildSketch(Plane(origin=(0, 7, 0), x_dir=(1, 0, 0), z_dir=(0, 1, 0))) as cut_extrude3_sk:
        with Locations(Location((0, 0, 0), (0, 0, 270))):
            Circle(SKETCH13_R)
    extrude(amount=CUT_EXTRUDE3_DEPTH, mode=Mode.SUBTRACT)
    extrude(cut_extrude3_sk.sketch, amount=-CUT_EXTRUDE3_DEPTH_BACK, mode=Mode.SUBTRACT)

    # Sketch14 → Boss-Extrude6 (add)
    with BuildSketch(Plane(origin=(-1.5, 0, 0), x_dir=(0, 0, -1), z_dir=(1, 0, 0))):
        with Locations(Location((0, -8.079783411, 0), (0, 0, 269.997072333))):
            Circle(SKETCH14_R)
    extrude(amount=BOSS_EXTRUDE6_DEPTH)

    # Sketch15 → Boss-Extrude7 (add)
    with BuildSketch(Plane(origin=(-1, 0, 0), x_dir=(0, 0, -1), z_dir=(1, 0, 0))):
        with Locations((0, -8.079783411)):
            Circle(SKETCH15_R)
    extrude(amount=BOSS_EXTRUDE7_DEPTH)


solid = part.part
